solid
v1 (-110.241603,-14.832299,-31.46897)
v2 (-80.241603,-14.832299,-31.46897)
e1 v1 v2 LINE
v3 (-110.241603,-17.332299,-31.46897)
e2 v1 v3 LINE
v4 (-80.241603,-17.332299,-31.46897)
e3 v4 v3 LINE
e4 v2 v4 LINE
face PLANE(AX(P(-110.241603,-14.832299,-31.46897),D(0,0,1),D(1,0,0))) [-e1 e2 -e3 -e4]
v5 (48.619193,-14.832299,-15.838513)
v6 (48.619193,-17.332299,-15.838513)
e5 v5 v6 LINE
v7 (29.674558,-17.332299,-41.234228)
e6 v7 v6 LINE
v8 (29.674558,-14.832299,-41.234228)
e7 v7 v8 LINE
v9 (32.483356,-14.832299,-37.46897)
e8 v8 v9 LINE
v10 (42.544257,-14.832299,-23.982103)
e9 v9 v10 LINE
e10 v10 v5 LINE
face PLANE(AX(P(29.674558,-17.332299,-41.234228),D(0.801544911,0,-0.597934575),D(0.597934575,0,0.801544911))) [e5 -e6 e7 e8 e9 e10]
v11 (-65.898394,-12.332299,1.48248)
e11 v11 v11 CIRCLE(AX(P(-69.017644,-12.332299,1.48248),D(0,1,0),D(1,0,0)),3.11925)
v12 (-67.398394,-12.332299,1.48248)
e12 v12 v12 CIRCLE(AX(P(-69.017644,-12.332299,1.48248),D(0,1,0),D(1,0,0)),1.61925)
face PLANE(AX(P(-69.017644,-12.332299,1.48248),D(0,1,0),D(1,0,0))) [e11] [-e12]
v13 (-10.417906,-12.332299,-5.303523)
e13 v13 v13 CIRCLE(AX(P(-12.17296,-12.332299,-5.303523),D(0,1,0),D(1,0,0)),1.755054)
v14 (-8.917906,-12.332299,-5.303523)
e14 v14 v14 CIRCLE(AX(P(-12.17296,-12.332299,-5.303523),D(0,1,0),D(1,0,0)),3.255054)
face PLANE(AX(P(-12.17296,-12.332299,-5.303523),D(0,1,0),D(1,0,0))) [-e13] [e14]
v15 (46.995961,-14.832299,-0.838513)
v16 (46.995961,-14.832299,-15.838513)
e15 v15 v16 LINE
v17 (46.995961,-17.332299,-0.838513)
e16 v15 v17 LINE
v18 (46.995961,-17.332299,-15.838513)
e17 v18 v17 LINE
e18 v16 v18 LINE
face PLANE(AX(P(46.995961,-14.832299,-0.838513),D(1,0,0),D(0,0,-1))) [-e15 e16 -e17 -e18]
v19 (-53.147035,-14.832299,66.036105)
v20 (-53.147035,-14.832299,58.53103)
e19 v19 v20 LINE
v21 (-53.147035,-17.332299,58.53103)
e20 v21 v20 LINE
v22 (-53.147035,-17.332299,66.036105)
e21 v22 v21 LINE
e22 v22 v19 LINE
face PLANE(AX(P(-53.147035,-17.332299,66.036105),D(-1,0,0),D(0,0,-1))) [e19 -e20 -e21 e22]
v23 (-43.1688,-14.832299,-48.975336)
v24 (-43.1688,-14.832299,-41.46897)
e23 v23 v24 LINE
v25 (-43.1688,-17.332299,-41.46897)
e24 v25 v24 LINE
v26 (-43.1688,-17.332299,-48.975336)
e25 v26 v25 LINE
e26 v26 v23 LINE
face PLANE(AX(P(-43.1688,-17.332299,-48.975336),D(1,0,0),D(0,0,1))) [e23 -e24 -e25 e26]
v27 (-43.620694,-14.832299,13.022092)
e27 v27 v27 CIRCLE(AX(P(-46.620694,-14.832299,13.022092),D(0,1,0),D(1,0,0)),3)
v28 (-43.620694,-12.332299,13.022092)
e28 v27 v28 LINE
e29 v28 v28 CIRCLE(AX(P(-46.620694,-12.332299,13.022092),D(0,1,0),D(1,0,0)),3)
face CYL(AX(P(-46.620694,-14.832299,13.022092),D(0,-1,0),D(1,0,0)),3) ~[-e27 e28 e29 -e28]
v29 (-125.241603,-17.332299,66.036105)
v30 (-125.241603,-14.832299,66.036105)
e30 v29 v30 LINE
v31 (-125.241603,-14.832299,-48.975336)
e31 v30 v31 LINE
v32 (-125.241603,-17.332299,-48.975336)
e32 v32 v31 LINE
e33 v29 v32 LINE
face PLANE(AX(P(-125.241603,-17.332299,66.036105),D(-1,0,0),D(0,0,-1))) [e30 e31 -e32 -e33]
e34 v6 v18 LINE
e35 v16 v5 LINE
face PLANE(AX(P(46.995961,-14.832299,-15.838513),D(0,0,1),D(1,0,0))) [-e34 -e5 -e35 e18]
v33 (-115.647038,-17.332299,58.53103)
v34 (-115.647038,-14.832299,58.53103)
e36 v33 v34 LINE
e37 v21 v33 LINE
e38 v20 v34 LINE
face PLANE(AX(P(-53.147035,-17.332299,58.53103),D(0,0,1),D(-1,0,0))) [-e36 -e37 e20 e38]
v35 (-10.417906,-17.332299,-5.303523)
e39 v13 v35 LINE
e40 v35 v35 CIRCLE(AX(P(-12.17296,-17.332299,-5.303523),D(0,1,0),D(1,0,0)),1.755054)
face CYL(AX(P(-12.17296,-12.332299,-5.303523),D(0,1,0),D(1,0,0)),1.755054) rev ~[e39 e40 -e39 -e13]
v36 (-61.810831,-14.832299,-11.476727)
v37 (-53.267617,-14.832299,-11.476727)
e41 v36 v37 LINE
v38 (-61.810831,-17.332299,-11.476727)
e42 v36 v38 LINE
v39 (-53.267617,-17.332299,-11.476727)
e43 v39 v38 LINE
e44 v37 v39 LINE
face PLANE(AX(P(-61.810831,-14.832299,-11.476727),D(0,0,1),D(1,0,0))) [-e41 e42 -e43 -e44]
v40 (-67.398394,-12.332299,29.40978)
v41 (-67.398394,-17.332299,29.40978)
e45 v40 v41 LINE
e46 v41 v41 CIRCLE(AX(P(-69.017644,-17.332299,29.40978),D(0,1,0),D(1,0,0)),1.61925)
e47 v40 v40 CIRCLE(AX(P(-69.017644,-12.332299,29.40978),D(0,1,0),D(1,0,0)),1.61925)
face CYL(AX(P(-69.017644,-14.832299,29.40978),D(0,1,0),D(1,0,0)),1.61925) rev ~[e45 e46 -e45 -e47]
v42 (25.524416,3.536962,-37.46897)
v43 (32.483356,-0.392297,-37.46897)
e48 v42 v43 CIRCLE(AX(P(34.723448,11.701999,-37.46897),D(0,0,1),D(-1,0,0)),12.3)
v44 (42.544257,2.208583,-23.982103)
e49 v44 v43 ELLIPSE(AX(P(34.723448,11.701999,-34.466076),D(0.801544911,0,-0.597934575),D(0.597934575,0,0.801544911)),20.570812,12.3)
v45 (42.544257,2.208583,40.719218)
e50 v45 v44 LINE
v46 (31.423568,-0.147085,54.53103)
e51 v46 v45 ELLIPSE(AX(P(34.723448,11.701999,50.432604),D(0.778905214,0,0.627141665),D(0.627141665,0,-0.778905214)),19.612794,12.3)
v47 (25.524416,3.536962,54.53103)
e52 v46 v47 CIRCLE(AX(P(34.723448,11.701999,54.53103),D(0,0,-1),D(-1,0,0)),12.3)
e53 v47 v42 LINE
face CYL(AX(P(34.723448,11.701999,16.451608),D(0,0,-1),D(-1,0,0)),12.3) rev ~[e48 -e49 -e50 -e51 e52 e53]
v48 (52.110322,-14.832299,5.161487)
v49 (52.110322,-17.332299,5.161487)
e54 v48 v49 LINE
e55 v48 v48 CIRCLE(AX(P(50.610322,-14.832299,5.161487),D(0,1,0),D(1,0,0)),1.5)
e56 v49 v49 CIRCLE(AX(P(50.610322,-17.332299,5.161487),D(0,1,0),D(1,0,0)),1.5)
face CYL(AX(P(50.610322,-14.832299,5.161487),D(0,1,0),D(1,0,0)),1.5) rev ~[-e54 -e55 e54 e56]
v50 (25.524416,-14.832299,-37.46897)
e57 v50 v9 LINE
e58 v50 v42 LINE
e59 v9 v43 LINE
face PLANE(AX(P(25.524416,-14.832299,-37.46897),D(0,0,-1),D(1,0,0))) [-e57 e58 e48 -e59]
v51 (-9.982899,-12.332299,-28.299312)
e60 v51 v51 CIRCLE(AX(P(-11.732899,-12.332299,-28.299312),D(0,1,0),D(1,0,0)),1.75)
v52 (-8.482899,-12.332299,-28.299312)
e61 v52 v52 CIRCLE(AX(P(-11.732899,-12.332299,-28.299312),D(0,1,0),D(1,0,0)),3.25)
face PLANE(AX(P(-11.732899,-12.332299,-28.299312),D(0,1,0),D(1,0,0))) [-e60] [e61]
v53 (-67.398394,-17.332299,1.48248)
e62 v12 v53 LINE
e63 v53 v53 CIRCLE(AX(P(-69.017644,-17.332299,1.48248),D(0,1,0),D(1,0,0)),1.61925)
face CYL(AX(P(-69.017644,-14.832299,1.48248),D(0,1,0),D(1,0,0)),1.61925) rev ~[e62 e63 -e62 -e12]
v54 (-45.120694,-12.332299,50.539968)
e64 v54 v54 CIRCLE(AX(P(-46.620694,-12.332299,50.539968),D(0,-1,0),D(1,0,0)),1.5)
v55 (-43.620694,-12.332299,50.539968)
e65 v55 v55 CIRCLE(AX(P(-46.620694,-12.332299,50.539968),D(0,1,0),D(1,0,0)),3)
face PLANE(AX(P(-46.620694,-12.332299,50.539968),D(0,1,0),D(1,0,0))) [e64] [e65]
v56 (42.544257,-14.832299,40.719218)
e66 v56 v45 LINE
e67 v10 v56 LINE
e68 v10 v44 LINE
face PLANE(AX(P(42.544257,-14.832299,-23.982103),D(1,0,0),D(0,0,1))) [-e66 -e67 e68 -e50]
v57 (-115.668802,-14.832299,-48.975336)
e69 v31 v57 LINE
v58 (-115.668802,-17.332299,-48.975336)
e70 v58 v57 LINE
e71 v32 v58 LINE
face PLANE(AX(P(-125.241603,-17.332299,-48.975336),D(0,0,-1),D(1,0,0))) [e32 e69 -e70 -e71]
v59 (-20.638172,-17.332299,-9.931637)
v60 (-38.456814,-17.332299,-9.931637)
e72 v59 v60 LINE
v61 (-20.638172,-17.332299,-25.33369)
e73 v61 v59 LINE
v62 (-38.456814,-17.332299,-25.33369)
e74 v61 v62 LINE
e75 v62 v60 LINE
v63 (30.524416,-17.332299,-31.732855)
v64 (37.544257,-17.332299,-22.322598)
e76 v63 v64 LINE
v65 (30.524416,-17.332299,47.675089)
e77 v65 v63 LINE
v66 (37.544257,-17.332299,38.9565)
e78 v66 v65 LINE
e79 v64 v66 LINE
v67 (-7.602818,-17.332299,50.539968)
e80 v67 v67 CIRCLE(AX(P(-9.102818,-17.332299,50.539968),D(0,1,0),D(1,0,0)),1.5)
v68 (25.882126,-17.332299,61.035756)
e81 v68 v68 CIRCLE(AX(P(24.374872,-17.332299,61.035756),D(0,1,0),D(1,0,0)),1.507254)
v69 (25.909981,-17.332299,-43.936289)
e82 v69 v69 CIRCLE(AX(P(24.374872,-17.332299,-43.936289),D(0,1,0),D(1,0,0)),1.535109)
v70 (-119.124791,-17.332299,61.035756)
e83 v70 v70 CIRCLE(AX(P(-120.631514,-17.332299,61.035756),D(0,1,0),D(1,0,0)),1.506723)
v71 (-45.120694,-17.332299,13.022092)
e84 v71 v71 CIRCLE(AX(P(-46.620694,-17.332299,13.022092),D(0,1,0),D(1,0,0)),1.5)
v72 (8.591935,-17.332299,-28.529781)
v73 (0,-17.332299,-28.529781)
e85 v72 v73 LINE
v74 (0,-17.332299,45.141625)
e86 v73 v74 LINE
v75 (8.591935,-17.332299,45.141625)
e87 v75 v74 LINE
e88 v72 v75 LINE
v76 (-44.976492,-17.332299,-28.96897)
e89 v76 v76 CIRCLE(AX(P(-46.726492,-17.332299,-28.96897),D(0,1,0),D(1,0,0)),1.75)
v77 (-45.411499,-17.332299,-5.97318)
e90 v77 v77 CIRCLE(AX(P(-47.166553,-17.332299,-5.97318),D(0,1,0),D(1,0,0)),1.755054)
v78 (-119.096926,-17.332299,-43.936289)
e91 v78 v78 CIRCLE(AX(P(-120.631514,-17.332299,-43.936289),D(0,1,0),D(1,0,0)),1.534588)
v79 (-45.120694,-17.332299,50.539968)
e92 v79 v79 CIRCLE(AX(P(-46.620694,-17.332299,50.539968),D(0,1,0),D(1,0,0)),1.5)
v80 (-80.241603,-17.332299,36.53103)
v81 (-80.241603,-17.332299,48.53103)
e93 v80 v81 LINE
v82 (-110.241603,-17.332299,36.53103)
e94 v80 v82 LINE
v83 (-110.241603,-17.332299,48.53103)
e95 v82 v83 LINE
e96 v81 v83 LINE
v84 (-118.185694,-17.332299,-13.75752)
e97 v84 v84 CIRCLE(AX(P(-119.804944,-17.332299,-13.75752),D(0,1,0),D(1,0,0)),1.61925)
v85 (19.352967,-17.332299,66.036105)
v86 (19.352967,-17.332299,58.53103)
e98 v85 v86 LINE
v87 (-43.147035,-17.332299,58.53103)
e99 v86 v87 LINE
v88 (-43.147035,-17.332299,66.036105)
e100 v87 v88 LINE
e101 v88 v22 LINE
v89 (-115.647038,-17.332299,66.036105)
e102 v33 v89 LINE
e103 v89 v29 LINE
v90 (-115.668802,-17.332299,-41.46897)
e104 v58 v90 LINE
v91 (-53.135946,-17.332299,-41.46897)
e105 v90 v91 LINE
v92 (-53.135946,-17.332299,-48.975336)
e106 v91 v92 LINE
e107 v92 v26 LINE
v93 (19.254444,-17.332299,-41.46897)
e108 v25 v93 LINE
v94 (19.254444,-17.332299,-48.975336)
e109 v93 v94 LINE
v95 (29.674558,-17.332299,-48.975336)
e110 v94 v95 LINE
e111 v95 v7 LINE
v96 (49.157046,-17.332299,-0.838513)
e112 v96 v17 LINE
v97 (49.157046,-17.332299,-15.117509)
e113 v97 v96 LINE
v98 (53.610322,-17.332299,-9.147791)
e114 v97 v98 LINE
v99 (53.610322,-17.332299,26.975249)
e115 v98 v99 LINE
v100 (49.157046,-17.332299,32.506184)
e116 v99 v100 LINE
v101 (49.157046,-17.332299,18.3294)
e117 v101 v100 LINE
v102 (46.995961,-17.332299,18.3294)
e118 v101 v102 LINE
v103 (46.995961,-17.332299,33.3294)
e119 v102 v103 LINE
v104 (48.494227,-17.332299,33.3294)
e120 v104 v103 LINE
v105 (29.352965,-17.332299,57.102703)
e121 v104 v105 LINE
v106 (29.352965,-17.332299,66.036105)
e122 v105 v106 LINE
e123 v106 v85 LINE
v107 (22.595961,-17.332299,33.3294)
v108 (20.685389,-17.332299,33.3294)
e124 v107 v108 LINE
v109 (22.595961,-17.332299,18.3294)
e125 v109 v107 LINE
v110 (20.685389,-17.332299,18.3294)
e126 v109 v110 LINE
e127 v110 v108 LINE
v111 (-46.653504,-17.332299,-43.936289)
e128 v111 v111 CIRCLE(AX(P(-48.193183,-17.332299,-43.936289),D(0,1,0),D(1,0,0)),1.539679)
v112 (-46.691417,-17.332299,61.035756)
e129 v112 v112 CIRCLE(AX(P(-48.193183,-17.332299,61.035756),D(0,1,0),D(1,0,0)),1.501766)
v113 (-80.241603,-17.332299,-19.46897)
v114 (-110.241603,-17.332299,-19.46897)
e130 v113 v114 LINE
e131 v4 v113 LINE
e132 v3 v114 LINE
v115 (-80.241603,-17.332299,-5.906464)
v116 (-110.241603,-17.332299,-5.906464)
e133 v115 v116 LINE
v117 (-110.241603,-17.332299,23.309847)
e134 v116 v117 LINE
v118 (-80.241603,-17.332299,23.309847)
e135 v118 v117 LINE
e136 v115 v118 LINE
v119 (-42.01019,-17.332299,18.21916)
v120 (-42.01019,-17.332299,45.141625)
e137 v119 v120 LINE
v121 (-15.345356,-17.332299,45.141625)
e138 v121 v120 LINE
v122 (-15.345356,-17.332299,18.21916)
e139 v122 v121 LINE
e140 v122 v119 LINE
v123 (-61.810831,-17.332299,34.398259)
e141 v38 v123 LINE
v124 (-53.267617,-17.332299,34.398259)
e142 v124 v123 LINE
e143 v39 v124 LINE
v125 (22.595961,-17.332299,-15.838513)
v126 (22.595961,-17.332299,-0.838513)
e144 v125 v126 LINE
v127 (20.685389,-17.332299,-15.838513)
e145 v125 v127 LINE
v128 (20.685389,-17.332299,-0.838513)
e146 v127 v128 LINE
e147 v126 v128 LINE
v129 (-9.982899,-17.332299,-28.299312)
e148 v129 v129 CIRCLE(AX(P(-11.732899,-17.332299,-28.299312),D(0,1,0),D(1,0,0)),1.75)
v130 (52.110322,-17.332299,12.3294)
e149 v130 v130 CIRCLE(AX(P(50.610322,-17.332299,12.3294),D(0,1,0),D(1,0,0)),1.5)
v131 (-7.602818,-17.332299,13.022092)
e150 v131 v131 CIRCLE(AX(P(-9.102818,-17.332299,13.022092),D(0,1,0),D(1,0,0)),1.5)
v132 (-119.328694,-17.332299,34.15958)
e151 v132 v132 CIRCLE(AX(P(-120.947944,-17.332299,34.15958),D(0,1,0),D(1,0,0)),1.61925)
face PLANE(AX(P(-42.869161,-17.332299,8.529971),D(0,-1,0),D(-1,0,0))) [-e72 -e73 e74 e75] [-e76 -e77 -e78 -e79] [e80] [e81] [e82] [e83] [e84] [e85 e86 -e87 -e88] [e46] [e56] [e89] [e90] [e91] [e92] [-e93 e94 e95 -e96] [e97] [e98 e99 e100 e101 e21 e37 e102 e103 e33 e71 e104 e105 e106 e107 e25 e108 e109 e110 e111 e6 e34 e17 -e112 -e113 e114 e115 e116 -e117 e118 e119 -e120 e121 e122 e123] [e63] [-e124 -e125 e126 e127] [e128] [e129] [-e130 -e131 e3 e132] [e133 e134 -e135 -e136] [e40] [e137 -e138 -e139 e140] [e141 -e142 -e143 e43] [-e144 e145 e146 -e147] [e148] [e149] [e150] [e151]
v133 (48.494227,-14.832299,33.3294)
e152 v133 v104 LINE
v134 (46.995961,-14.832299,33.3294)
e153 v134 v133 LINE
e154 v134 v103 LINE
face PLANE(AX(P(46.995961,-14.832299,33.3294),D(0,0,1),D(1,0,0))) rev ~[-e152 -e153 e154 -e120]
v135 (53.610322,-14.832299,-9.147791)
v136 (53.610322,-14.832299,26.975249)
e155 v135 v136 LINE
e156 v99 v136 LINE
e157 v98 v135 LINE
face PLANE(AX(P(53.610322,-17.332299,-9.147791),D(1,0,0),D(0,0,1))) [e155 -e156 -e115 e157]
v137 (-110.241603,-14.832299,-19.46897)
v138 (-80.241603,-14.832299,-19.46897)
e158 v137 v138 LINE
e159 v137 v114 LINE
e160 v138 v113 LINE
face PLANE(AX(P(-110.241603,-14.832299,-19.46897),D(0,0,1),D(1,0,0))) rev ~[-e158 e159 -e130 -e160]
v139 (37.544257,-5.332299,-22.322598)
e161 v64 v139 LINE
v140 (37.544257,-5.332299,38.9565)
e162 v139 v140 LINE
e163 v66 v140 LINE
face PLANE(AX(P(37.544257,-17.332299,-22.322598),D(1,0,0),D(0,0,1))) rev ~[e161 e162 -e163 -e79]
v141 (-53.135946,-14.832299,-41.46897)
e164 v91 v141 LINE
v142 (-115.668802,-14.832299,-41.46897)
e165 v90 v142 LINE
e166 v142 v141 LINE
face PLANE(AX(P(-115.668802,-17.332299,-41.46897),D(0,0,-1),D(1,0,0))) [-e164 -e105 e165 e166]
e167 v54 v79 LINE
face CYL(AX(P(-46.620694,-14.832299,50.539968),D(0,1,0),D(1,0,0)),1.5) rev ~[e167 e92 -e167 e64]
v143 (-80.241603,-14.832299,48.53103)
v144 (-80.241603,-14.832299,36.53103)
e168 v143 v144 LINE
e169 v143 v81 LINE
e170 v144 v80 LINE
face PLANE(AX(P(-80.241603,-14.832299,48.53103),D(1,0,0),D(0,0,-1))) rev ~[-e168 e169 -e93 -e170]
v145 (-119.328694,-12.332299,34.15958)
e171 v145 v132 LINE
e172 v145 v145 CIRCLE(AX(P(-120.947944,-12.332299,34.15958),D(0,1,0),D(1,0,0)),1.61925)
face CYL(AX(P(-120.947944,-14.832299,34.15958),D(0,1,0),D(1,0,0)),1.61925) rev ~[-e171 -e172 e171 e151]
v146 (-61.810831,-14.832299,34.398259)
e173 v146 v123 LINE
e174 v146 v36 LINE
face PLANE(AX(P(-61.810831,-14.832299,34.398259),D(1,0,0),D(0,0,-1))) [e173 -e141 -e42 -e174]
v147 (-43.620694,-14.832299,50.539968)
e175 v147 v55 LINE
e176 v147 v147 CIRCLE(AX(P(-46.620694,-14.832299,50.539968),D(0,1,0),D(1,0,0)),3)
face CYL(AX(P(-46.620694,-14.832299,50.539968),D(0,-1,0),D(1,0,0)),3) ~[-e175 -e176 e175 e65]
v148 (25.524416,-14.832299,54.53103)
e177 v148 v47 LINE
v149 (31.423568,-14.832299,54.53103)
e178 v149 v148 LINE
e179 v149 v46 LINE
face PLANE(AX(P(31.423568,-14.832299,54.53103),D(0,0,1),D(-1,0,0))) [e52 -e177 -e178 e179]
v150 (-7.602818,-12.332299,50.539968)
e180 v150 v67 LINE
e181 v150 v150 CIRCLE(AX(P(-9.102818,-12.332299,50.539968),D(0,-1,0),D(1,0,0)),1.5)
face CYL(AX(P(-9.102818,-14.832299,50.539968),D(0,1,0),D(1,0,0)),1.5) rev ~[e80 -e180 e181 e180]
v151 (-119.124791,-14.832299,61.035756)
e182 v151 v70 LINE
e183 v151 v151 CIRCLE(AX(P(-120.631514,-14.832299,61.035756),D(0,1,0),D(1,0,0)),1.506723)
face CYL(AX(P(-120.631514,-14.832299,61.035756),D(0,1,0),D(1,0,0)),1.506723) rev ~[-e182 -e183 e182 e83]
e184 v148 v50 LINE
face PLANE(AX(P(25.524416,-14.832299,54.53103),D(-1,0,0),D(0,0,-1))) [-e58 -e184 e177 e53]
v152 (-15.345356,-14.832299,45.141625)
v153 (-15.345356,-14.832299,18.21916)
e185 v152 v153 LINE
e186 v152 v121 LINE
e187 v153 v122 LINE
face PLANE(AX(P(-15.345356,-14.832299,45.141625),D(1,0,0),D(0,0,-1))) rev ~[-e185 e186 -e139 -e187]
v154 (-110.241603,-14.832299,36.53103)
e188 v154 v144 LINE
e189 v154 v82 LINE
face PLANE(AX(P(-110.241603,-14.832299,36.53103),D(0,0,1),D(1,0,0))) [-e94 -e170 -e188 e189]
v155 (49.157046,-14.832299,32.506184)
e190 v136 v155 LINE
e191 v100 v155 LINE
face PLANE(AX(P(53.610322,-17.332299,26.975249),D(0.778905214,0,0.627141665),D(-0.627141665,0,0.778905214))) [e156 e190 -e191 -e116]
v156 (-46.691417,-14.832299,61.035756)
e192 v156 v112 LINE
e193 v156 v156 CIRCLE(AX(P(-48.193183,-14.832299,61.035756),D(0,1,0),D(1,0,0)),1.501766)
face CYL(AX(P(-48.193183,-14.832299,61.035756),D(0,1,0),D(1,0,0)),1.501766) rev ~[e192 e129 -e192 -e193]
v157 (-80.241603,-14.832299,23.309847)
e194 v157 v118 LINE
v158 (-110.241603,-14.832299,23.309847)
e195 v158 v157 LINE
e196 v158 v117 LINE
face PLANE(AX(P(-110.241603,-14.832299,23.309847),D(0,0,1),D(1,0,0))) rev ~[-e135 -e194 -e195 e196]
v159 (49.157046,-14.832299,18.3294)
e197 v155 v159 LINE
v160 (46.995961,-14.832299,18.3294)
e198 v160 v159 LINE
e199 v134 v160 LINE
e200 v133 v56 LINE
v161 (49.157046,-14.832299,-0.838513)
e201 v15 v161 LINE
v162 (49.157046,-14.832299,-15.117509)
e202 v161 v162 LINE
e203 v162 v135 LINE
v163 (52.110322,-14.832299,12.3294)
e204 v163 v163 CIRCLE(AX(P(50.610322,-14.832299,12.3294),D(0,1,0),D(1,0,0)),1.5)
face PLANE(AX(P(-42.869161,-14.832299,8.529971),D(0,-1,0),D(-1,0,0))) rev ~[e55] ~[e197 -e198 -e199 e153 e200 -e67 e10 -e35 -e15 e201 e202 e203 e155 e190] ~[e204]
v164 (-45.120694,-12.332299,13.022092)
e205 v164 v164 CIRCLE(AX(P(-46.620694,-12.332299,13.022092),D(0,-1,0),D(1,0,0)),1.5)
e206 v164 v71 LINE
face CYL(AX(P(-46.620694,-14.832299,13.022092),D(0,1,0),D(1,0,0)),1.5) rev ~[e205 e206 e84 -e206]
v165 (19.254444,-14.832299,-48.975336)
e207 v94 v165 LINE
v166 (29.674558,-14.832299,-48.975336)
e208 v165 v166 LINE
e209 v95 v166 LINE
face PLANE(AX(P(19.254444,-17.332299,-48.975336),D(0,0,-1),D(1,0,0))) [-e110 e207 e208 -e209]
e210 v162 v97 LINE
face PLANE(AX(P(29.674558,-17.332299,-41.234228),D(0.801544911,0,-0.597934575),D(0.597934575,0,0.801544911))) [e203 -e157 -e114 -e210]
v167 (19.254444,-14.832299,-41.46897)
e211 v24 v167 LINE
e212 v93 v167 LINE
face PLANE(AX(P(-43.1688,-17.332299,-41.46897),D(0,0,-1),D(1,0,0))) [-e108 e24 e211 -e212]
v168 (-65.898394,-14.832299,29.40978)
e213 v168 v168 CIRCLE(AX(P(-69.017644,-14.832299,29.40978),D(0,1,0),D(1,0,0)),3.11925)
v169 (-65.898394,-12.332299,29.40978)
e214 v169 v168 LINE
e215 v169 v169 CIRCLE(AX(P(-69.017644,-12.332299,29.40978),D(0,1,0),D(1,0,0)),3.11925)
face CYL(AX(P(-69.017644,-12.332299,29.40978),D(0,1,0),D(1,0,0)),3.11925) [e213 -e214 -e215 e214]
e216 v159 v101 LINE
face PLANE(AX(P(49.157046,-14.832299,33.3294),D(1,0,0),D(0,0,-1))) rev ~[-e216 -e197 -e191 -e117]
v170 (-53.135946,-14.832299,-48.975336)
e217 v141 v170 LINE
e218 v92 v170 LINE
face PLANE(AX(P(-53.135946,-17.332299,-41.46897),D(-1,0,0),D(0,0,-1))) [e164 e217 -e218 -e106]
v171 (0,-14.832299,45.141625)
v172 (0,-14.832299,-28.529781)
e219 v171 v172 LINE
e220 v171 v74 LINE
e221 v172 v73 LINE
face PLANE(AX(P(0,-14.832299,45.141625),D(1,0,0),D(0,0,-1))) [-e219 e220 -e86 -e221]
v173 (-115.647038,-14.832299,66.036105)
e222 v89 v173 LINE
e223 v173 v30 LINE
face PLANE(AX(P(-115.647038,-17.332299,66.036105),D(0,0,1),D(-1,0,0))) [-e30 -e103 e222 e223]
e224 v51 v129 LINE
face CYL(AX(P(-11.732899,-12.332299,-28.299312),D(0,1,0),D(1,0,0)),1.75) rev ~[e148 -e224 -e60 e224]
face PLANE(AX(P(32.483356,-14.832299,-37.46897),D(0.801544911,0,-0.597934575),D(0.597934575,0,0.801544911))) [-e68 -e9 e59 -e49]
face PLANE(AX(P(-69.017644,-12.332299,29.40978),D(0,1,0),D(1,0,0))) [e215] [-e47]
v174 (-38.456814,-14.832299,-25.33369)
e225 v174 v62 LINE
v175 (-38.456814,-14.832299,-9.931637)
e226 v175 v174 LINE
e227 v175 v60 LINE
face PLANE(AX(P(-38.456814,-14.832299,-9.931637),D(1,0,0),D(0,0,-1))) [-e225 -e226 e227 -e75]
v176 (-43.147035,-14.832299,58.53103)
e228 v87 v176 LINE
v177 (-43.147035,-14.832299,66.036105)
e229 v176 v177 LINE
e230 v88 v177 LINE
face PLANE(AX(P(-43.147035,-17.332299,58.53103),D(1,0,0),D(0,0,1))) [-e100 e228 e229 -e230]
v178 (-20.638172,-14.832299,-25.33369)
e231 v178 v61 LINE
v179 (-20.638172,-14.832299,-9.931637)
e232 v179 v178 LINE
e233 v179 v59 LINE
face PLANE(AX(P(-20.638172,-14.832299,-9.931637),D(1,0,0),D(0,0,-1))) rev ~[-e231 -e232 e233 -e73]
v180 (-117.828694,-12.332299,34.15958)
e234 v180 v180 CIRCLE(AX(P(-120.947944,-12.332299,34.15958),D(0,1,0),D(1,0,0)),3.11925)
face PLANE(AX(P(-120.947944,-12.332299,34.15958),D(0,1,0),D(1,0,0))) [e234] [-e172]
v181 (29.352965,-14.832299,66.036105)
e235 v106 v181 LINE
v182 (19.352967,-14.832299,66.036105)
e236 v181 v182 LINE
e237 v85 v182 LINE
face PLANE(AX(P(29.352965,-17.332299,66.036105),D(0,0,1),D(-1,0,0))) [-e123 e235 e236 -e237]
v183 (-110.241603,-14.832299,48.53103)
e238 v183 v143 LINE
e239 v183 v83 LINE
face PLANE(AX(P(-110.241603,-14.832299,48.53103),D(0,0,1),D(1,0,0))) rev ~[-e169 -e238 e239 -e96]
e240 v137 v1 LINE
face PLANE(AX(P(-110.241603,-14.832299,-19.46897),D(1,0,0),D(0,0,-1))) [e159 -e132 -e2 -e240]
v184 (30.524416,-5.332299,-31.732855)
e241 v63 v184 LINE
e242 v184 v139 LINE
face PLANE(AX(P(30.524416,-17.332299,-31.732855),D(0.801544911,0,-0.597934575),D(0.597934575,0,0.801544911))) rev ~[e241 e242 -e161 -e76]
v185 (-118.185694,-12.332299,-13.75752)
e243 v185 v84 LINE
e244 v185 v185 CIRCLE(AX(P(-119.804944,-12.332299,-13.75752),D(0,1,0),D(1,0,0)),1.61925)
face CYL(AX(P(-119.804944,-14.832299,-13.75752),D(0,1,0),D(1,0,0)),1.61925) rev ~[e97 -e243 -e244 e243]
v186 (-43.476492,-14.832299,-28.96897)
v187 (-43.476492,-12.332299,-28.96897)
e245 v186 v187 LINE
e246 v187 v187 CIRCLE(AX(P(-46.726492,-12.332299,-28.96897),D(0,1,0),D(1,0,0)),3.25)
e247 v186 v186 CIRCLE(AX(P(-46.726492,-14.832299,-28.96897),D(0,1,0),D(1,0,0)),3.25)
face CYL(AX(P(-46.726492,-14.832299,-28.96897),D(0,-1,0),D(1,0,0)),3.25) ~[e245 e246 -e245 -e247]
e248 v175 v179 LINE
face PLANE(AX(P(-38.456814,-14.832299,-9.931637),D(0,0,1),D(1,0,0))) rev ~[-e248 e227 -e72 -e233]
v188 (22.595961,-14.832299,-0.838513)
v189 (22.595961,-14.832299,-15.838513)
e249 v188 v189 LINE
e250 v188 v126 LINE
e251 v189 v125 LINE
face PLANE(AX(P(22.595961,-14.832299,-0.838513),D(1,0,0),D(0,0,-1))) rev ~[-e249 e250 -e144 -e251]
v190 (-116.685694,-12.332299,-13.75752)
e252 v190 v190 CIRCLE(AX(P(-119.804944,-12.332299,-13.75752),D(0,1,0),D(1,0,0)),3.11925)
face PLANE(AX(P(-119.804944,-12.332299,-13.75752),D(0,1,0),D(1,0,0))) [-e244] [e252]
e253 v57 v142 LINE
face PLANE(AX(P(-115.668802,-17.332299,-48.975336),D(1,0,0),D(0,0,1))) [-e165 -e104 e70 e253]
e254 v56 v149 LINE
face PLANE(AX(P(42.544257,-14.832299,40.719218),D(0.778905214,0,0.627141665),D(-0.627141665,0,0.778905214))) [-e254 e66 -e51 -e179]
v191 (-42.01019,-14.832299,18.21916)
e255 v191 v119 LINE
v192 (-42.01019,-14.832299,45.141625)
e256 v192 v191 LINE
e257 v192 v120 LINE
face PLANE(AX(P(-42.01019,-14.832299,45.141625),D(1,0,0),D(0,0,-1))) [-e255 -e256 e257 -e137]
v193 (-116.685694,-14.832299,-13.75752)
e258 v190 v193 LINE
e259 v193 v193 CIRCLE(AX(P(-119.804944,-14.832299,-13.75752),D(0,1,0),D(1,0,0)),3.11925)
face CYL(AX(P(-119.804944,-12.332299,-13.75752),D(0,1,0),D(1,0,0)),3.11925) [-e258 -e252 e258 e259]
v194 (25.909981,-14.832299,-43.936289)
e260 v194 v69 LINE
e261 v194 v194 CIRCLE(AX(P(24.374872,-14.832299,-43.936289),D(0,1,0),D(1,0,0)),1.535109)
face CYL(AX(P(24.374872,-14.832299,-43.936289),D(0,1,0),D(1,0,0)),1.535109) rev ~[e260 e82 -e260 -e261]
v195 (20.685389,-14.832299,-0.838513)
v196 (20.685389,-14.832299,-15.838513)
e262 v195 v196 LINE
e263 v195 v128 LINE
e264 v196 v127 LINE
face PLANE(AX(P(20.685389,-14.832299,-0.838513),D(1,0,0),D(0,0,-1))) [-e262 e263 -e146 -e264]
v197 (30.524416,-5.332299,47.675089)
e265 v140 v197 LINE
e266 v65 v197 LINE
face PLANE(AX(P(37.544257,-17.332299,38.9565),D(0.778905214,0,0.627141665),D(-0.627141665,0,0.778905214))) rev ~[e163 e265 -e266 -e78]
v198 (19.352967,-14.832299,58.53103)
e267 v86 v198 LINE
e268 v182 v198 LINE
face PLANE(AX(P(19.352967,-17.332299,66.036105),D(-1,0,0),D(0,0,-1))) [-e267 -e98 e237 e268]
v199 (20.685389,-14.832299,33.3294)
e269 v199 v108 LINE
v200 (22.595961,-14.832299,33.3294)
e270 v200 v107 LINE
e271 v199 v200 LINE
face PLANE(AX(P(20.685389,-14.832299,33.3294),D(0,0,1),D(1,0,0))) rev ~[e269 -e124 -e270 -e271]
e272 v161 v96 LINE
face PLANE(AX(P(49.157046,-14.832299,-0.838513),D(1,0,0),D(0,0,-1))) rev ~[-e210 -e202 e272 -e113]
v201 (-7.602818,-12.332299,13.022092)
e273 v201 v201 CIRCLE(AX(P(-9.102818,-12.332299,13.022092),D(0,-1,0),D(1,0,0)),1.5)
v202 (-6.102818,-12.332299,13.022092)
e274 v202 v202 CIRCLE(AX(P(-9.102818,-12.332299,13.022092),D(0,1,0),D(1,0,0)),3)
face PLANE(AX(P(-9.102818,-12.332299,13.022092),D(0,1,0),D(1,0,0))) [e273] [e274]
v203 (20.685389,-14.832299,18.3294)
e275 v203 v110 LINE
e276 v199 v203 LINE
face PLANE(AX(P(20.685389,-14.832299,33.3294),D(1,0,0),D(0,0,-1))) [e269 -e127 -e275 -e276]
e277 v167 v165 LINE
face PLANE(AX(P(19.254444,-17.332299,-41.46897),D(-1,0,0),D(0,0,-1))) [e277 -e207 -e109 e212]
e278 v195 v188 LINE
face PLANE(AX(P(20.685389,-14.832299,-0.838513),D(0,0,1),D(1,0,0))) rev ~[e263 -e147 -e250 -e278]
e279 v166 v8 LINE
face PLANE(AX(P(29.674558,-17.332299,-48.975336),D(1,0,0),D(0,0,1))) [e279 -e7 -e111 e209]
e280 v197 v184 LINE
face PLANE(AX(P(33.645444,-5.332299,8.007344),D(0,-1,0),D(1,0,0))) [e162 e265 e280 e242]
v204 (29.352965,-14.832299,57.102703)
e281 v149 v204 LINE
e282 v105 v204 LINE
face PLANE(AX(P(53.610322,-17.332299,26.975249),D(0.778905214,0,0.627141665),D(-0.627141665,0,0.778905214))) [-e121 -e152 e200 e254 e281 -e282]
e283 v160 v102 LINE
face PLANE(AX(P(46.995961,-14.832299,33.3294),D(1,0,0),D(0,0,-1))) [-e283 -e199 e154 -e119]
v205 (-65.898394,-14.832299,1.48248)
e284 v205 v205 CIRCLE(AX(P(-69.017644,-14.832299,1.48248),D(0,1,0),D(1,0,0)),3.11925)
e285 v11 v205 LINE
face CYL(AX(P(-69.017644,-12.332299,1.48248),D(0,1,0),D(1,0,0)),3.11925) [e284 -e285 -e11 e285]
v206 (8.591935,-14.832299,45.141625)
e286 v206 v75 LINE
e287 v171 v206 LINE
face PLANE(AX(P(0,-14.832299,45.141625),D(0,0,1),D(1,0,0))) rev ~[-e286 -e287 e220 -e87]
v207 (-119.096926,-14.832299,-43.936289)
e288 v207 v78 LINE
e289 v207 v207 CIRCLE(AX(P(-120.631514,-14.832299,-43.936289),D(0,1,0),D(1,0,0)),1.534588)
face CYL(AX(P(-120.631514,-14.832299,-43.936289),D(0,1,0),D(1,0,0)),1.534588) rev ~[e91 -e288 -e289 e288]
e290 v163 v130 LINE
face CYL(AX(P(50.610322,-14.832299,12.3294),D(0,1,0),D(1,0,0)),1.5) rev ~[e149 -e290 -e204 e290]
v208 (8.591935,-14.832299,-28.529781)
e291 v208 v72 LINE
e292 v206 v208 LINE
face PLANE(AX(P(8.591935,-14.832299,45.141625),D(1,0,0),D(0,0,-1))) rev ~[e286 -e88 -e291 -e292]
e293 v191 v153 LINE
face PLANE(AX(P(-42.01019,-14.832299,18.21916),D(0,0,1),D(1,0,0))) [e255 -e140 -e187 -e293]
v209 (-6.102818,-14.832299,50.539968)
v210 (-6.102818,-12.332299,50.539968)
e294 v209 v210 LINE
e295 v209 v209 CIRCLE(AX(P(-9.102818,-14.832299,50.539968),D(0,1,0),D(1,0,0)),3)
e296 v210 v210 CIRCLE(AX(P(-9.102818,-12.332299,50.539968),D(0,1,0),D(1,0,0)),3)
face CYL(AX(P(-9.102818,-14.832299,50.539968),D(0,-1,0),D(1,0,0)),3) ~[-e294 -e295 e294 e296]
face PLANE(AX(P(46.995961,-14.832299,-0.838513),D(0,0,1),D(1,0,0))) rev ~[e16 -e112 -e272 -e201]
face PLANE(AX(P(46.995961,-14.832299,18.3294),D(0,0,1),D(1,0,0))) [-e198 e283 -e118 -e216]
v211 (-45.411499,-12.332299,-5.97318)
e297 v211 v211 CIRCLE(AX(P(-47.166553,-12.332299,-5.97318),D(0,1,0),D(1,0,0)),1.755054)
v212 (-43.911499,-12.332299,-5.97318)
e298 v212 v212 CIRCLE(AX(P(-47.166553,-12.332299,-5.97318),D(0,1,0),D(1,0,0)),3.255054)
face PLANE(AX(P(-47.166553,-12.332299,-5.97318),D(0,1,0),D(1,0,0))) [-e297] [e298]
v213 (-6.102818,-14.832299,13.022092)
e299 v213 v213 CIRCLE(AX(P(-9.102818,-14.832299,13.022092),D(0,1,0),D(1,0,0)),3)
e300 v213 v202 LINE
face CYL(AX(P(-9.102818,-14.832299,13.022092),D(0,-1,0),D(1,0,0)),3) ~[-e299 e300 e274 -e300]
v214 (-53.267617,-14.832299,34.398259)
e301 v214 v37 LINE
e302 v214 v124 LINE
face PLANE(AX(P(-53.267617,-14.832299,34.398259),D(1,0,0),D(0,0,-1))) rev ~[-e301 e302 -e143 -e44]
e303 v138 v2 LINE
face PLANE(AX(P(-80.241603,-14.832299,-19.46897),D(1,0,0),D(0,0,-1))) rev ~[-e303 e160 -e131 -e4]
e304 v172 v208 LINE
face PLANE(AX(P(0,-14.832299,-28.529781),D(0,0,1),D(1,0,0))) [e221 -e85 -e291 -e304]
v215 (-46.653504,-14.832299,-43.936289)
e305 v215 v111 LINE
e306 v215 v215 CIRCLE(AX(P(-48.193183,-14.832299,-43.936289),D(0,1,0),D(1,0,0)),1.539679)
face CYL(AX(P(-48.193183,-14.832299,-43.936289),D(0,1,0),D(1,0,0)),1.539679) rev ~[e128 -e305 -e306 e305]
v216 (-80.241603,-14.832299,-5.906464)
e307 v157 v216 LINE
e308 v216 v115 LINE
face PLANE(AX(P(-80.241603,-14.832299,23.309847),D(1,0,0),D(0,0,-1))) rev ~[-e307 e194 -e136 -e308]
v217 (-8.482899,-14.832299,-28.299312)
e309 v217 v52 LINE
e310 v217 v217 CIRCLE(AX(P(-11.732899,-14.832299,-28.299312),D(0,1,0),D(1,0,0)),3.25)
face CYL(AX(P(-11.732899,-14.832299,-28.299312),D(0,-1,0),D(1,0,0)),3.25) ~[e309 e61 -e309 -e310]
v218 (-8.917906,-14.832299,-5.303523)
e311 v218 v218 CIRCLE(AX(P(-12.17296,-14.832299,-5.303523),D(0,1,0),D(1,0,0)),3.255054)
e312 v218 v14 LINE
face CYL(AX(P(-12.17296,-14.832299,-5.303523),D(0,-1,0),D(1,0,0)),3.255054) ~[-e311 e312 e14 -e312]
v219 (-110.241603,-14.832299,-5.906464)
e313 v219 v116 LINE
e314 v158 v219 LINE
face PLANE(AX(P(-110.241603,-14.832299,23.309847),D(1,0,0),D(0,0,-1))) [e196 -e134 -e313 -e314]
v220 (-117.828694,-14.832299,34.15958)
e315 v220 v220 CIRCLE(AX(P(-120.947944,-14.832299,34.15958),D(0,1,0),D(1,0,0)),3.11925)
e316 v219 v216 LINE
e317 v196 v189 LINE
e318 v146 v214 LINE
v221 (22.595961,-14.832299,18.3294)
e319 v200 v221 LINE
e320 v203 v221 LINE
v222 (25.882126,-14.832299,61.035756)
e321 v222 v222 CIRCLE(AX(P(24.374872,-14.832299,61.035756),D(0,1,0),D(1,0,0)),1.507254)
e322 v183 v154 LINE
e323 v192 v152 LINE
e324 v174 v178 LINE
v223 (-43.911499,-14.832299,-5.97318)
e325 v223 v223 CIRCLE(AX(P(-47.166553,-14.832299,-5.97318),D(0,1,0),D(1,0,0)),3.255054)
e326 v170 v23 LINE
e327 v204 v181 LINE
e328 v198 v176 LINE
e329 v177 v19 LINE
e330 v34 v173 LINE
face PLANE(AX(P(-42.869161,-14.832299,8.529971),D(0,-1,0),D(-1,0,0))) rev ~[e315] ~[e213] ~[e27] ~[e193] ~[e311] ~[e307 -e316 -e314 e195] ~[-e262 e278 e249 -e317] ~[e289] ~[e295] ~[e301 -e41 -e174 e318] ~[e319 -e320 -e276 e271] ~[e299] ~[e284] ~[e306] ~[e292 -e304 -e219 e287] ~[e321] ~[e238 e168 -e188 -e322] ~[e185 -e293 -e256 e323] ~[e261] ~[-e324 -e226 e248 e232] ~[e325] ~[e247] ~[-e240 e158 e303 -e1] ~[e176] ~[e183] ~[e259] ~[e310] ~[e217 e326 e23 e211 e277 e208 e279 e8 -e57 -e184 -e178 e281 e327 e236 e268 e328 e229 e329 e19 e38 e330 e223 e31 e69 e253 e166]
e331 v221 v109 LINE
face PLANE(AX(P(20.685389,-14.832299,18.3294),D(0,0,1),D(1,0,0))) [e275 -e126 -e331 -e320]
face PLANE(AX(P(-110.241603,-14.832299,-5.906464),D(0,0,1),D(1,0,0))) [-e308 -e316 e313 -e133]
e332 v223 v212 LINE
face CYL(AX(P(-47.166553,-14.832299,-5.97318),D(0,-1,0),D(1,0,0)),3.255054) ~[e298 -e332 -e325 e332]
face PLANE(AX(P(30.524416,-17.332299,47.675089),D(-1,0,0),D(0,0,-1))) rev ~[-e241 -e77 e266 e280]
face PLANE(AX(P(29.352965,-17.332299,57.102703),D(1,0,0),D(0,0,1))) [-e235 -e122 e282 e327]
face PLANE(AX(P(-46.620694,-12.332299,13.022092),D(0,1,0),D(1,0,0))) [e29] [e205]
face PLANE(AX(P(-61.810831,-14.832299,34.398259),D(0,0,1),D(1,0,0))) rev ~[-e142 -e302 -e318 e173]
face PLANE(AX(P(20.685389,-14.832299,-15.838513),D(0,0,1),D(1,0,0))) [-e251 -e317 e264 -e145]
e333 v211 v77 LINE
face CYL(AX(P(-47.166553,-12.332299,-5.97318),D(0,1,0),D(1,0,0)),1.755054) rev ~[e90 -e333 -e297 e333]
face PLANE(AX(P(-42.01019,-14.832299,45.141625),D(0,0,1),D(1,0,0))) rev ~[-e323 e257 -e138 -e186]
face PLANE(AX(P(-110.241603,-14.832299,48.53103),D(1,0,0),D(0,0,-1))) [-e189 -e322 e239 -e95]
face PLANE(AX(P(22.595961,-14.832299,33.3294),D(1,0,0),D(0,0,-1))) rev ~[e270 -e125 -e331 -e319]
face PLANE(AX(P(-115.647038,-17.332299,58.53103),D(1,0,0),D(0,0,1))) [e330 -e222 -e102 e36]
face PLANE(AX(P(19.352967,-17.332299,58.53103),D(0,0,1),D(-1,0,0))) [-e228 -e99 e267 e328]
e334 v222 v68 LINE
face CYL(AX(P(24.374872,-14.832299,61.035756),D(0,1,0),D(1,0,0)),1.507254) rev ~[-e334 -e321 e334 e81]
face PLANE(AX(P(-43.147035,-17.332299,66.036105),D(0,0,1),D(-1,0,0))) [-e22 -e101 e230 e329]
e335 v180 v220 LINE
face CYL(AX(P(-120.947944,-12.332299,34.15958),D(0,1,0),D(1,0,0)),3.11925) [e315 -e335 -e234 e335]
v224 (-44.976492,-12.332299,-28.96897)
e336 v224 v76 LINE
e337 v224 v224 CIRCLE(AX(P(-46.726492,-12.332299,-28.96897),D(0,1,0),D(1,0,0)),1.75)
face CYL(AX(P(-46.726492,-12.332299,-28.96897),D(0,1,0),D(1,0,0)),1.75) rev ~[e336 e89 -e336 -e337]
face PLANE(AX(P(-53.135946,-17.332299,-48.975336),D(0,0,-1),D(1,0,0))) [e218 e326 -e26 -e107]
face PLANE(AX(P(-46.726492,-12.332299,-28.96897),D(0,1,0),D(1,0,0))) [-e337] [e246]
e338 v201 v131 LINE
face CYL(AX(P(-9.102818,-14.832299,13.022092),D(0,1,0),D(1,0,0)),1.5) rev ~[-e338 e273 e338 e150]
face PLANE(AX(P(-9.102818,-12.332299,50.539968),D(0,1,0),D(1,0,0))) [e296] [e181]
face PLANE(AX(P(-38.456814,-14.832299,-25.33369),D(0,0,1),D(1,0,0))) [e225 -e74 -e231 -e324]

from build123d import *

# Parameters (mm, degrees)
BOSS_EXTRUDE1_DEPTH      = 2.5
SKETCH1_R                = 3.11925
SKETCH1_R_2              = 1.61925
BOSS_EXTRUDE2_DEPTH      = 2.5
SKETCH12_R               = 1.61925
CUT_EXTRUDE2_DEPTH       = 3.5
SKETCH15_R               = 3
BOSS_EXTRUDE6_DEPTH      = 2.5
SKETCH13_R               = 1.5
CUT_EXTRUDE5_DEPTH       = 3.5
CUT_EXTRUDE5_DEPTH_BACK  = 3.5
SKETCH16_R               = 3.25
SKETCH16_R_2             = 3.255054338
BOSS_EXTRUDE7_DEPTH      = 2.5
SKETCH17_R               = 1.75
SKETCH17_R_2             = 1.755054338
CUT_EXTRUDE6_DEPTH       = 1
CUT_EXTRUDE6_DEPTH_BACK  = 6
SKETCH24_R               = 1.534588162
SKETCH24_R_2             = 1.539679215
SKETCH24_R_3             = 1.53510928
SKETCH24_R_4             = 1.507254119
SKETCH24_R_5             = 1.501766116
SKETCH24_R_6             = 1.506723366
CUT_EXTRUDE7_DEPTH       = 3.5
CUT_EXTRUDE7_DEPTH_BACK  = 3.5
BOSS_EXTRUDE8_DEPTH      = 23
SKETCH28_W               = 1.910572049
SKETCH28_H               = 15
SKETCH28_W_2             = 2.161085764
CUT_EXTRUDE9_DEPTH       = 3.5
SKETCH30_W               = 30
SKETCH30_H               = 12
SKETCH30_W_2             = 8.543214141
SKETCH30_H_2             = 45.874985667
SKETCH30_H_3             = 29.216310988
SKETCH30_W_3             = 26.664834195
SKETCH30_H_4             = 26.922465443
SKETCH30_W_4             = 17.818641616
SKETCH30_H_5             = 15.402052611
SKETCH30_W_5             = 8.591934673
SKETCH30_H_6             = 73.671406809
CUT_EXTRUDE11_DEPTH      = 3.5
SKETCH29_R               = 12.3
CUT_EXTRUDE12_DEPTH      = 66.426944419
CUT_EXTRUDE12_DEPTH_BACK = 50.584496916
SKETCH31_R               = 1.5
CUT_EXTRUDE13_DEPTH      = 19.369261936
CUT_EXTRUDE13_DEPTH_BACK = 3.5
CUT_EXTRUDE14_DEPTH      = 12


with BuildPart() as part:
    # Sketch2 → Boss-Extrude1 (new body)
    with BuildSketch(Plane(origin=(0, -17.332299444, 0), x_dir=(-1, 0, 0), z_dir=(0, -1, 0))):
        Polygon((125.241603418, -58.531029956), (125.241603418, 41.468970044), (125.241603418, 48.975336237), (115.668802349, 48.975336237), (115.668802349, 41.468970044), (53.135946408, 41.468970044), (53.135946408, 48.975336237), (43.168799778, 48.975336237), (43.168799778, 41.468970044), (-19.254443916, 41.468970044), (-19.254443916, 48.975336237), (-29.674557938, 48.975336237), (-29.674557938, 41.234228149), (-53.610322333, 9.147791006), (-53.610322333, -26.975248892), (-29.352965282, -57.102703243), (-29.352965282, -66.036105098), (-19.352967368, -66.036105098), (-19.352967368, -58.531029956), (43.147035426, -58.531029956), (43.147035426, -66.036105098), (53.147035202, -66.036105098), (53.147035202, -58.531029956), (115.647037996, -58.531029956), (115.647037996, -66.036105098), (125.241603418, -66.036105098), align=None)
    extrude(amount=-BOSS_EXTRUDE1_DEPTH)

    # Sketch1 → Boss-Extrude2 (add)
    with BuildSketch(Plane(origin=(-134.962394185, -12.332299444, 36.871029956), x_dir=(1, 0, 0), z_dir=(0, 1, 0))):
        with Locations((14.01445, 2.71145)):
            Circle(SKETCH1_R)
        with Locations((14.01445, 2.71145)):
            Circle(SKETCH1_R_2, mode=Mode.SUBTRACT)
        with Locations((65.94475, 7.46125)):
            Circle(SKETCH1_R)
        with Locations((65.94475, 7.46125)):
            Circle(SKETCH1_R_2, mode=Mode.SUBTRACT)
        with Locations((65.94475, 35.38855)):
            Circle(SKETCH1_R)
        with Locations((65.94475, 35.38855)):
            Circle(SKETCH1_R_2, mode=Mode.SUBTRACT)
        with Locations((15.15745, 50.62855)):
            Circle(SKETCH1_R)
        with Locations((15.15745, 50.62855)):
            Circle(SKETCH1_R_2, mode=Mode.SUBTRACT)
    extrude(amount=-BOSS_EXTRUDE2_DEPTH)

    # Sketch12 → Cut-Extrude2 (cut, through all)
    with BuildSketch(Plane(origin=(0, -14.832299444, 0), x_dir=(1, 0, 0), z_dir=(0, 1, 0))):
        with Locations((-119.804944185, 13.757520044)):
            Circle(SKETCH12_R)
        with Locations((-69.017644185, -1.482479956)):
            Circle(SKETCH12_R)
        with Locations((-69.017644185, -29.409779956)):
            Circle(SKETCH12_R)
        with Locations((-120.947944185, -34.159579956)):
            Circle(SKETCH12_R)
    extrude(amount=-CUT_EXTRUDE2_DEPTH, mode=Mode.SUBTRACT)

    # Sketch15 → Boss-Extrude6 (add)
    with BuildSketch(Plane(origin=(0, -14.832299444, 0), x_dir=(1, 0, 0), z_dir=(0, 1, 0))):
        with Locations((-46.620694306, -50.539968272)):
            Circle(SKETCH15_R)
        with Locations((-46.620694306, -13.022091641)):
            Circle(SKETCH15_R)
        with Locations((-9.102817675, -50.539968272)):
            Circle(SKETCH15_R)
        with Locations((-9.102817675, -13.022091641)):
            Circle(SKETCH15_R)
    extrude(amount=BOSS_EXTRUDE6_DEPTH)

    # Sketch13 → Cut-Extrude5 (cut, two sides)
    with BuildSketch(Plane(origin=(0, -14.832299444, 0), x_dir=(1, 0, 0), z_dir=(0, 1, 0))) as cut_extrude5_sk:
        with Locations((-46.620694306, -13.022091641)):
            Circle(SKETCH13_R)
        with Locations((-9.102817675, -13.022091641)):
            Circle(SKETCH13_R)
        with Locations((-46.620694306, -50.539968272)):
            Circle(SKETCH13_R)
        with Locations((-9.102817675, -50.539968272)):
            Circle(SKETCH13_R)
    extrude(amount=CUT_EXTRUDE5_DEPTH, mode=Mode.SUBTRACT)
    extrude(cut_extrude5_sk.sketch, amount=-CUT_EXTRUDE5_DEPTH_BACK, mode=Mode.SUBTRACT)

    # Sketch16 → Boss-Extrude7 (add)
    with BuildSketch(Plane(origin=(0, -14.832299444, 0), x_dir=(1, 0, 0), z_dir=(0, 1, 0))):
        with Locations((-11.732899179, 28.299312351)):
            Circle(SKETCH16_R)
        with Locations((-12.172959949, 5.303522595)):
            Circle(SKETCH16_R_2)
        with Locations((-47.166553056, 5.973180288)):
            Circle(SKETCH16_R_2)
        with Locations((-46.726492287, 28.968970044)):
            Circle(SKETCH16_R)
    extrude(amount=BOSS_EXTRUDE7_DEPTH)

    # Sketch17 → Cut-Extrude6 (cut, two sides)
    with BuildSketch(Plane(origin=(0, -12.332299444, 0), x_dir=(1, 0, 0), z_dir=(0, 1, 0))) as cut_extrude6_sk:
        with Locations((-46.726492287, 28.968970044)):
            Circle(SKETCH17_R)
        with Locations((-47.166553056, 5.973180288)):
            Circle(SKETCH17_R_2)
        with Locations((-12.172959949, 5.303522595)):
            Circle(SKETCH17_R_2)
        with Locations((-11.732899179, 28.299312351)):
            Circle(SKETCH17_R)
    extrude(amount=CUT_EXTRUDE6_DEPTH, mode=Mode.SUBTRACT)
    extrude(cut_extrude6_sk.sketch, amount=-CUT_EXTRUDE6_DEPTH_BACK, mode=Mode.SUBTRACT)

    # Sketch24 → Cut-Extrude7 (cut, two sides)
    with BuildSketch(Plane(origin=(0, -14.832299444, 0), x_dir=(1, 0, 0), z_dir=(0, 1, 0))) as cut_extrude7_sk:
        with Locations((-120.631514326, 43.936289371)):
            Circle(SKETCH24_R)
        with Locations((-48.193182725, 43.936289371)):
            Circle(SKETCH24_R_2)
        with Locations((24.374871647, 43.936289371)):
            Circle(SKETCH24_R_3)
        with Locations((24.374871647, -61.035755979)):
            Circle(SKETCH24_R_4)
        with Locations((-48.193182725, -61.035755979)):
            Circle(SKETCH24_R_5)
        with Locations((-120.631514326, -61.035755979)):
            Circle(SKETCH24_R_6)
    extrude(amount=CUT_EXTRUDE7_DEPTH, mode=Mode.SUBTRACT)
    extrude(cut_extrude7_sk.sketch, amount=-CUT_EXTRUDE7_DEPTH_BACK, mode=Mode.SUBTRACT)

    # Sketch25 → Boss-Extrude8 (add)
    with BuildSketch(Plane(origin=(0, -14.832299444, 0), x_dir=(1, 0, 0), z_dir=(0, 1, 0))):
        Polygon((25.524416428, 37.468970044), (32.483356263, 37.468970044), (42.544257405, 23.982102995), (42.544257405, -40.719218001), (31.423568275, -54.531029956), (25.524416428, -54.531029956), align=None)
    extrude(amount=BOSS_EXTRUDE8_DEPTH)

    # Sketch28 → Cut-Extrude9 (cut, through all)
    with BuildSketch(Plane(origin=(0, -14.832299444, 0), x_dir=(1, 0, 0), z_dir=(0, 1, 0))):
        with Locations((21.640674678, -25.829400353)):
            Rectangle(SKETCH28_W, SKETCH28_H)
        with Locations((21.640674678, 8.33851306)):
            Rectangle(SKETCH28_W, SKETCH28_H)
        with Locations((48.076503584, -25.829400353)):
            Rectangle(SKETCH28_W_2, SKETCH28_H)
        with Locations((48.076503584, 8.33851306)):
            Rectangle(SKETCH28_W_2, SKETCH28_H)
    extrude(amount=-CUT_EXTRUDE9_DEPTH, mode=Mode.SUBTRACT)

    # Sketch30 → Cut-Extrude11 (cut, through all)
    with BuildSketch(Plane(origin=(0, -14.832299444, 0), x_dir=(1, 0, 0), z_dir=(0, 1, 0))):
        with Locations((-95.241603418, -42.531029956)):
            Rectangle(SKETCH30_W, SKETCH30_H)
        with Locations((-95.241603418, 25.468970044)):
            Rectangle(SKETCH30_W, SKETCH30_H)
        with Locations((-57.539223691, -11.460765675)):
            Rectangle(SKETCH30_W_2, SKETCH30_H_2)
        with Locations((-95.241603418, -8.701691218)):
            Rectangle(SKETCH30_W, SKETCH30_H_3)
        with Locations((-28.677773335, -31.68039269)):
            Rectangle(SKETCH30_W_3, SKETCH30_H_4)
        with Locations((-29.547493126, 17.632663699)):
            Rectangle(SKETCH30_W_4, SKETCH30_H_5)
        with Locations((4.295967337, -8.305922008)):
            Rectangle(SKETCH30_W_5, SKETCH30_H_6)
    extrude(amount=-CUT_EXTRUDE11_DEPTH, mode=Mode.SUBTRACT)

    # Sketch29 → Cut-Extrude12 (cut, two sides)
    with BuildSketch(Plane(origin=(0, 0, 16.451608182), x_dir=(-1, 0, 0), z_dir=(0, 0, -1))) as cut_extrude12_sk:
        with Locations((-34.72344809, 11.701998712)):
            Circle(SKETCH29_R)
    extrude(amount=CUT_EXTRUDE12_DEPTH, mode=Mode.SUBTRACT)
    extrude(cut_extrude12_sk.sketch, amount=-CUT_EXTRUDE12_DEPTH_BACK, mode=Mode.SUBTRACT)

    # Sketch31 → Cut-Extrude13 (cut, two sides)
    with BuildSketch(Plane(origin=(0, -14.832299444, 0), x_dir=(1, 0, 0), z_dir=(0, 1, 0))) as cut_extrude13_sk:
        with Locations((50.610322333, -12.329400353)):
            Circle(SKETCH31_R)
        with Locations((50.610322333, -5.16148694)):
            Circle(SKETCH31_R)
    extrude(amount=CUT_EXTRUDE13_DEPTH, mode=Mode.SUBTRACT)
    extrude(cut_extrude13_sk.sketch, amount=-CUT_EXTRUDE13_DEPTH_BACK, mode=Mode.SUBTRACT)

    # Sketch32 → Cut-Extrude14 (cut)
    with BuildSketch(Plane.XZ.offset(17.332299444)):
        Polygon((30.524416428, 47.675089459), (30.524416428, -31.732854607), (37.544257405, -22.322597948), (37.544257405, 38.956499954), align=None)
    extrude(amount=-CUT_EXTRUDE14_DEPTH, mode=Mode.SUBTRACT)


solid = part.part
